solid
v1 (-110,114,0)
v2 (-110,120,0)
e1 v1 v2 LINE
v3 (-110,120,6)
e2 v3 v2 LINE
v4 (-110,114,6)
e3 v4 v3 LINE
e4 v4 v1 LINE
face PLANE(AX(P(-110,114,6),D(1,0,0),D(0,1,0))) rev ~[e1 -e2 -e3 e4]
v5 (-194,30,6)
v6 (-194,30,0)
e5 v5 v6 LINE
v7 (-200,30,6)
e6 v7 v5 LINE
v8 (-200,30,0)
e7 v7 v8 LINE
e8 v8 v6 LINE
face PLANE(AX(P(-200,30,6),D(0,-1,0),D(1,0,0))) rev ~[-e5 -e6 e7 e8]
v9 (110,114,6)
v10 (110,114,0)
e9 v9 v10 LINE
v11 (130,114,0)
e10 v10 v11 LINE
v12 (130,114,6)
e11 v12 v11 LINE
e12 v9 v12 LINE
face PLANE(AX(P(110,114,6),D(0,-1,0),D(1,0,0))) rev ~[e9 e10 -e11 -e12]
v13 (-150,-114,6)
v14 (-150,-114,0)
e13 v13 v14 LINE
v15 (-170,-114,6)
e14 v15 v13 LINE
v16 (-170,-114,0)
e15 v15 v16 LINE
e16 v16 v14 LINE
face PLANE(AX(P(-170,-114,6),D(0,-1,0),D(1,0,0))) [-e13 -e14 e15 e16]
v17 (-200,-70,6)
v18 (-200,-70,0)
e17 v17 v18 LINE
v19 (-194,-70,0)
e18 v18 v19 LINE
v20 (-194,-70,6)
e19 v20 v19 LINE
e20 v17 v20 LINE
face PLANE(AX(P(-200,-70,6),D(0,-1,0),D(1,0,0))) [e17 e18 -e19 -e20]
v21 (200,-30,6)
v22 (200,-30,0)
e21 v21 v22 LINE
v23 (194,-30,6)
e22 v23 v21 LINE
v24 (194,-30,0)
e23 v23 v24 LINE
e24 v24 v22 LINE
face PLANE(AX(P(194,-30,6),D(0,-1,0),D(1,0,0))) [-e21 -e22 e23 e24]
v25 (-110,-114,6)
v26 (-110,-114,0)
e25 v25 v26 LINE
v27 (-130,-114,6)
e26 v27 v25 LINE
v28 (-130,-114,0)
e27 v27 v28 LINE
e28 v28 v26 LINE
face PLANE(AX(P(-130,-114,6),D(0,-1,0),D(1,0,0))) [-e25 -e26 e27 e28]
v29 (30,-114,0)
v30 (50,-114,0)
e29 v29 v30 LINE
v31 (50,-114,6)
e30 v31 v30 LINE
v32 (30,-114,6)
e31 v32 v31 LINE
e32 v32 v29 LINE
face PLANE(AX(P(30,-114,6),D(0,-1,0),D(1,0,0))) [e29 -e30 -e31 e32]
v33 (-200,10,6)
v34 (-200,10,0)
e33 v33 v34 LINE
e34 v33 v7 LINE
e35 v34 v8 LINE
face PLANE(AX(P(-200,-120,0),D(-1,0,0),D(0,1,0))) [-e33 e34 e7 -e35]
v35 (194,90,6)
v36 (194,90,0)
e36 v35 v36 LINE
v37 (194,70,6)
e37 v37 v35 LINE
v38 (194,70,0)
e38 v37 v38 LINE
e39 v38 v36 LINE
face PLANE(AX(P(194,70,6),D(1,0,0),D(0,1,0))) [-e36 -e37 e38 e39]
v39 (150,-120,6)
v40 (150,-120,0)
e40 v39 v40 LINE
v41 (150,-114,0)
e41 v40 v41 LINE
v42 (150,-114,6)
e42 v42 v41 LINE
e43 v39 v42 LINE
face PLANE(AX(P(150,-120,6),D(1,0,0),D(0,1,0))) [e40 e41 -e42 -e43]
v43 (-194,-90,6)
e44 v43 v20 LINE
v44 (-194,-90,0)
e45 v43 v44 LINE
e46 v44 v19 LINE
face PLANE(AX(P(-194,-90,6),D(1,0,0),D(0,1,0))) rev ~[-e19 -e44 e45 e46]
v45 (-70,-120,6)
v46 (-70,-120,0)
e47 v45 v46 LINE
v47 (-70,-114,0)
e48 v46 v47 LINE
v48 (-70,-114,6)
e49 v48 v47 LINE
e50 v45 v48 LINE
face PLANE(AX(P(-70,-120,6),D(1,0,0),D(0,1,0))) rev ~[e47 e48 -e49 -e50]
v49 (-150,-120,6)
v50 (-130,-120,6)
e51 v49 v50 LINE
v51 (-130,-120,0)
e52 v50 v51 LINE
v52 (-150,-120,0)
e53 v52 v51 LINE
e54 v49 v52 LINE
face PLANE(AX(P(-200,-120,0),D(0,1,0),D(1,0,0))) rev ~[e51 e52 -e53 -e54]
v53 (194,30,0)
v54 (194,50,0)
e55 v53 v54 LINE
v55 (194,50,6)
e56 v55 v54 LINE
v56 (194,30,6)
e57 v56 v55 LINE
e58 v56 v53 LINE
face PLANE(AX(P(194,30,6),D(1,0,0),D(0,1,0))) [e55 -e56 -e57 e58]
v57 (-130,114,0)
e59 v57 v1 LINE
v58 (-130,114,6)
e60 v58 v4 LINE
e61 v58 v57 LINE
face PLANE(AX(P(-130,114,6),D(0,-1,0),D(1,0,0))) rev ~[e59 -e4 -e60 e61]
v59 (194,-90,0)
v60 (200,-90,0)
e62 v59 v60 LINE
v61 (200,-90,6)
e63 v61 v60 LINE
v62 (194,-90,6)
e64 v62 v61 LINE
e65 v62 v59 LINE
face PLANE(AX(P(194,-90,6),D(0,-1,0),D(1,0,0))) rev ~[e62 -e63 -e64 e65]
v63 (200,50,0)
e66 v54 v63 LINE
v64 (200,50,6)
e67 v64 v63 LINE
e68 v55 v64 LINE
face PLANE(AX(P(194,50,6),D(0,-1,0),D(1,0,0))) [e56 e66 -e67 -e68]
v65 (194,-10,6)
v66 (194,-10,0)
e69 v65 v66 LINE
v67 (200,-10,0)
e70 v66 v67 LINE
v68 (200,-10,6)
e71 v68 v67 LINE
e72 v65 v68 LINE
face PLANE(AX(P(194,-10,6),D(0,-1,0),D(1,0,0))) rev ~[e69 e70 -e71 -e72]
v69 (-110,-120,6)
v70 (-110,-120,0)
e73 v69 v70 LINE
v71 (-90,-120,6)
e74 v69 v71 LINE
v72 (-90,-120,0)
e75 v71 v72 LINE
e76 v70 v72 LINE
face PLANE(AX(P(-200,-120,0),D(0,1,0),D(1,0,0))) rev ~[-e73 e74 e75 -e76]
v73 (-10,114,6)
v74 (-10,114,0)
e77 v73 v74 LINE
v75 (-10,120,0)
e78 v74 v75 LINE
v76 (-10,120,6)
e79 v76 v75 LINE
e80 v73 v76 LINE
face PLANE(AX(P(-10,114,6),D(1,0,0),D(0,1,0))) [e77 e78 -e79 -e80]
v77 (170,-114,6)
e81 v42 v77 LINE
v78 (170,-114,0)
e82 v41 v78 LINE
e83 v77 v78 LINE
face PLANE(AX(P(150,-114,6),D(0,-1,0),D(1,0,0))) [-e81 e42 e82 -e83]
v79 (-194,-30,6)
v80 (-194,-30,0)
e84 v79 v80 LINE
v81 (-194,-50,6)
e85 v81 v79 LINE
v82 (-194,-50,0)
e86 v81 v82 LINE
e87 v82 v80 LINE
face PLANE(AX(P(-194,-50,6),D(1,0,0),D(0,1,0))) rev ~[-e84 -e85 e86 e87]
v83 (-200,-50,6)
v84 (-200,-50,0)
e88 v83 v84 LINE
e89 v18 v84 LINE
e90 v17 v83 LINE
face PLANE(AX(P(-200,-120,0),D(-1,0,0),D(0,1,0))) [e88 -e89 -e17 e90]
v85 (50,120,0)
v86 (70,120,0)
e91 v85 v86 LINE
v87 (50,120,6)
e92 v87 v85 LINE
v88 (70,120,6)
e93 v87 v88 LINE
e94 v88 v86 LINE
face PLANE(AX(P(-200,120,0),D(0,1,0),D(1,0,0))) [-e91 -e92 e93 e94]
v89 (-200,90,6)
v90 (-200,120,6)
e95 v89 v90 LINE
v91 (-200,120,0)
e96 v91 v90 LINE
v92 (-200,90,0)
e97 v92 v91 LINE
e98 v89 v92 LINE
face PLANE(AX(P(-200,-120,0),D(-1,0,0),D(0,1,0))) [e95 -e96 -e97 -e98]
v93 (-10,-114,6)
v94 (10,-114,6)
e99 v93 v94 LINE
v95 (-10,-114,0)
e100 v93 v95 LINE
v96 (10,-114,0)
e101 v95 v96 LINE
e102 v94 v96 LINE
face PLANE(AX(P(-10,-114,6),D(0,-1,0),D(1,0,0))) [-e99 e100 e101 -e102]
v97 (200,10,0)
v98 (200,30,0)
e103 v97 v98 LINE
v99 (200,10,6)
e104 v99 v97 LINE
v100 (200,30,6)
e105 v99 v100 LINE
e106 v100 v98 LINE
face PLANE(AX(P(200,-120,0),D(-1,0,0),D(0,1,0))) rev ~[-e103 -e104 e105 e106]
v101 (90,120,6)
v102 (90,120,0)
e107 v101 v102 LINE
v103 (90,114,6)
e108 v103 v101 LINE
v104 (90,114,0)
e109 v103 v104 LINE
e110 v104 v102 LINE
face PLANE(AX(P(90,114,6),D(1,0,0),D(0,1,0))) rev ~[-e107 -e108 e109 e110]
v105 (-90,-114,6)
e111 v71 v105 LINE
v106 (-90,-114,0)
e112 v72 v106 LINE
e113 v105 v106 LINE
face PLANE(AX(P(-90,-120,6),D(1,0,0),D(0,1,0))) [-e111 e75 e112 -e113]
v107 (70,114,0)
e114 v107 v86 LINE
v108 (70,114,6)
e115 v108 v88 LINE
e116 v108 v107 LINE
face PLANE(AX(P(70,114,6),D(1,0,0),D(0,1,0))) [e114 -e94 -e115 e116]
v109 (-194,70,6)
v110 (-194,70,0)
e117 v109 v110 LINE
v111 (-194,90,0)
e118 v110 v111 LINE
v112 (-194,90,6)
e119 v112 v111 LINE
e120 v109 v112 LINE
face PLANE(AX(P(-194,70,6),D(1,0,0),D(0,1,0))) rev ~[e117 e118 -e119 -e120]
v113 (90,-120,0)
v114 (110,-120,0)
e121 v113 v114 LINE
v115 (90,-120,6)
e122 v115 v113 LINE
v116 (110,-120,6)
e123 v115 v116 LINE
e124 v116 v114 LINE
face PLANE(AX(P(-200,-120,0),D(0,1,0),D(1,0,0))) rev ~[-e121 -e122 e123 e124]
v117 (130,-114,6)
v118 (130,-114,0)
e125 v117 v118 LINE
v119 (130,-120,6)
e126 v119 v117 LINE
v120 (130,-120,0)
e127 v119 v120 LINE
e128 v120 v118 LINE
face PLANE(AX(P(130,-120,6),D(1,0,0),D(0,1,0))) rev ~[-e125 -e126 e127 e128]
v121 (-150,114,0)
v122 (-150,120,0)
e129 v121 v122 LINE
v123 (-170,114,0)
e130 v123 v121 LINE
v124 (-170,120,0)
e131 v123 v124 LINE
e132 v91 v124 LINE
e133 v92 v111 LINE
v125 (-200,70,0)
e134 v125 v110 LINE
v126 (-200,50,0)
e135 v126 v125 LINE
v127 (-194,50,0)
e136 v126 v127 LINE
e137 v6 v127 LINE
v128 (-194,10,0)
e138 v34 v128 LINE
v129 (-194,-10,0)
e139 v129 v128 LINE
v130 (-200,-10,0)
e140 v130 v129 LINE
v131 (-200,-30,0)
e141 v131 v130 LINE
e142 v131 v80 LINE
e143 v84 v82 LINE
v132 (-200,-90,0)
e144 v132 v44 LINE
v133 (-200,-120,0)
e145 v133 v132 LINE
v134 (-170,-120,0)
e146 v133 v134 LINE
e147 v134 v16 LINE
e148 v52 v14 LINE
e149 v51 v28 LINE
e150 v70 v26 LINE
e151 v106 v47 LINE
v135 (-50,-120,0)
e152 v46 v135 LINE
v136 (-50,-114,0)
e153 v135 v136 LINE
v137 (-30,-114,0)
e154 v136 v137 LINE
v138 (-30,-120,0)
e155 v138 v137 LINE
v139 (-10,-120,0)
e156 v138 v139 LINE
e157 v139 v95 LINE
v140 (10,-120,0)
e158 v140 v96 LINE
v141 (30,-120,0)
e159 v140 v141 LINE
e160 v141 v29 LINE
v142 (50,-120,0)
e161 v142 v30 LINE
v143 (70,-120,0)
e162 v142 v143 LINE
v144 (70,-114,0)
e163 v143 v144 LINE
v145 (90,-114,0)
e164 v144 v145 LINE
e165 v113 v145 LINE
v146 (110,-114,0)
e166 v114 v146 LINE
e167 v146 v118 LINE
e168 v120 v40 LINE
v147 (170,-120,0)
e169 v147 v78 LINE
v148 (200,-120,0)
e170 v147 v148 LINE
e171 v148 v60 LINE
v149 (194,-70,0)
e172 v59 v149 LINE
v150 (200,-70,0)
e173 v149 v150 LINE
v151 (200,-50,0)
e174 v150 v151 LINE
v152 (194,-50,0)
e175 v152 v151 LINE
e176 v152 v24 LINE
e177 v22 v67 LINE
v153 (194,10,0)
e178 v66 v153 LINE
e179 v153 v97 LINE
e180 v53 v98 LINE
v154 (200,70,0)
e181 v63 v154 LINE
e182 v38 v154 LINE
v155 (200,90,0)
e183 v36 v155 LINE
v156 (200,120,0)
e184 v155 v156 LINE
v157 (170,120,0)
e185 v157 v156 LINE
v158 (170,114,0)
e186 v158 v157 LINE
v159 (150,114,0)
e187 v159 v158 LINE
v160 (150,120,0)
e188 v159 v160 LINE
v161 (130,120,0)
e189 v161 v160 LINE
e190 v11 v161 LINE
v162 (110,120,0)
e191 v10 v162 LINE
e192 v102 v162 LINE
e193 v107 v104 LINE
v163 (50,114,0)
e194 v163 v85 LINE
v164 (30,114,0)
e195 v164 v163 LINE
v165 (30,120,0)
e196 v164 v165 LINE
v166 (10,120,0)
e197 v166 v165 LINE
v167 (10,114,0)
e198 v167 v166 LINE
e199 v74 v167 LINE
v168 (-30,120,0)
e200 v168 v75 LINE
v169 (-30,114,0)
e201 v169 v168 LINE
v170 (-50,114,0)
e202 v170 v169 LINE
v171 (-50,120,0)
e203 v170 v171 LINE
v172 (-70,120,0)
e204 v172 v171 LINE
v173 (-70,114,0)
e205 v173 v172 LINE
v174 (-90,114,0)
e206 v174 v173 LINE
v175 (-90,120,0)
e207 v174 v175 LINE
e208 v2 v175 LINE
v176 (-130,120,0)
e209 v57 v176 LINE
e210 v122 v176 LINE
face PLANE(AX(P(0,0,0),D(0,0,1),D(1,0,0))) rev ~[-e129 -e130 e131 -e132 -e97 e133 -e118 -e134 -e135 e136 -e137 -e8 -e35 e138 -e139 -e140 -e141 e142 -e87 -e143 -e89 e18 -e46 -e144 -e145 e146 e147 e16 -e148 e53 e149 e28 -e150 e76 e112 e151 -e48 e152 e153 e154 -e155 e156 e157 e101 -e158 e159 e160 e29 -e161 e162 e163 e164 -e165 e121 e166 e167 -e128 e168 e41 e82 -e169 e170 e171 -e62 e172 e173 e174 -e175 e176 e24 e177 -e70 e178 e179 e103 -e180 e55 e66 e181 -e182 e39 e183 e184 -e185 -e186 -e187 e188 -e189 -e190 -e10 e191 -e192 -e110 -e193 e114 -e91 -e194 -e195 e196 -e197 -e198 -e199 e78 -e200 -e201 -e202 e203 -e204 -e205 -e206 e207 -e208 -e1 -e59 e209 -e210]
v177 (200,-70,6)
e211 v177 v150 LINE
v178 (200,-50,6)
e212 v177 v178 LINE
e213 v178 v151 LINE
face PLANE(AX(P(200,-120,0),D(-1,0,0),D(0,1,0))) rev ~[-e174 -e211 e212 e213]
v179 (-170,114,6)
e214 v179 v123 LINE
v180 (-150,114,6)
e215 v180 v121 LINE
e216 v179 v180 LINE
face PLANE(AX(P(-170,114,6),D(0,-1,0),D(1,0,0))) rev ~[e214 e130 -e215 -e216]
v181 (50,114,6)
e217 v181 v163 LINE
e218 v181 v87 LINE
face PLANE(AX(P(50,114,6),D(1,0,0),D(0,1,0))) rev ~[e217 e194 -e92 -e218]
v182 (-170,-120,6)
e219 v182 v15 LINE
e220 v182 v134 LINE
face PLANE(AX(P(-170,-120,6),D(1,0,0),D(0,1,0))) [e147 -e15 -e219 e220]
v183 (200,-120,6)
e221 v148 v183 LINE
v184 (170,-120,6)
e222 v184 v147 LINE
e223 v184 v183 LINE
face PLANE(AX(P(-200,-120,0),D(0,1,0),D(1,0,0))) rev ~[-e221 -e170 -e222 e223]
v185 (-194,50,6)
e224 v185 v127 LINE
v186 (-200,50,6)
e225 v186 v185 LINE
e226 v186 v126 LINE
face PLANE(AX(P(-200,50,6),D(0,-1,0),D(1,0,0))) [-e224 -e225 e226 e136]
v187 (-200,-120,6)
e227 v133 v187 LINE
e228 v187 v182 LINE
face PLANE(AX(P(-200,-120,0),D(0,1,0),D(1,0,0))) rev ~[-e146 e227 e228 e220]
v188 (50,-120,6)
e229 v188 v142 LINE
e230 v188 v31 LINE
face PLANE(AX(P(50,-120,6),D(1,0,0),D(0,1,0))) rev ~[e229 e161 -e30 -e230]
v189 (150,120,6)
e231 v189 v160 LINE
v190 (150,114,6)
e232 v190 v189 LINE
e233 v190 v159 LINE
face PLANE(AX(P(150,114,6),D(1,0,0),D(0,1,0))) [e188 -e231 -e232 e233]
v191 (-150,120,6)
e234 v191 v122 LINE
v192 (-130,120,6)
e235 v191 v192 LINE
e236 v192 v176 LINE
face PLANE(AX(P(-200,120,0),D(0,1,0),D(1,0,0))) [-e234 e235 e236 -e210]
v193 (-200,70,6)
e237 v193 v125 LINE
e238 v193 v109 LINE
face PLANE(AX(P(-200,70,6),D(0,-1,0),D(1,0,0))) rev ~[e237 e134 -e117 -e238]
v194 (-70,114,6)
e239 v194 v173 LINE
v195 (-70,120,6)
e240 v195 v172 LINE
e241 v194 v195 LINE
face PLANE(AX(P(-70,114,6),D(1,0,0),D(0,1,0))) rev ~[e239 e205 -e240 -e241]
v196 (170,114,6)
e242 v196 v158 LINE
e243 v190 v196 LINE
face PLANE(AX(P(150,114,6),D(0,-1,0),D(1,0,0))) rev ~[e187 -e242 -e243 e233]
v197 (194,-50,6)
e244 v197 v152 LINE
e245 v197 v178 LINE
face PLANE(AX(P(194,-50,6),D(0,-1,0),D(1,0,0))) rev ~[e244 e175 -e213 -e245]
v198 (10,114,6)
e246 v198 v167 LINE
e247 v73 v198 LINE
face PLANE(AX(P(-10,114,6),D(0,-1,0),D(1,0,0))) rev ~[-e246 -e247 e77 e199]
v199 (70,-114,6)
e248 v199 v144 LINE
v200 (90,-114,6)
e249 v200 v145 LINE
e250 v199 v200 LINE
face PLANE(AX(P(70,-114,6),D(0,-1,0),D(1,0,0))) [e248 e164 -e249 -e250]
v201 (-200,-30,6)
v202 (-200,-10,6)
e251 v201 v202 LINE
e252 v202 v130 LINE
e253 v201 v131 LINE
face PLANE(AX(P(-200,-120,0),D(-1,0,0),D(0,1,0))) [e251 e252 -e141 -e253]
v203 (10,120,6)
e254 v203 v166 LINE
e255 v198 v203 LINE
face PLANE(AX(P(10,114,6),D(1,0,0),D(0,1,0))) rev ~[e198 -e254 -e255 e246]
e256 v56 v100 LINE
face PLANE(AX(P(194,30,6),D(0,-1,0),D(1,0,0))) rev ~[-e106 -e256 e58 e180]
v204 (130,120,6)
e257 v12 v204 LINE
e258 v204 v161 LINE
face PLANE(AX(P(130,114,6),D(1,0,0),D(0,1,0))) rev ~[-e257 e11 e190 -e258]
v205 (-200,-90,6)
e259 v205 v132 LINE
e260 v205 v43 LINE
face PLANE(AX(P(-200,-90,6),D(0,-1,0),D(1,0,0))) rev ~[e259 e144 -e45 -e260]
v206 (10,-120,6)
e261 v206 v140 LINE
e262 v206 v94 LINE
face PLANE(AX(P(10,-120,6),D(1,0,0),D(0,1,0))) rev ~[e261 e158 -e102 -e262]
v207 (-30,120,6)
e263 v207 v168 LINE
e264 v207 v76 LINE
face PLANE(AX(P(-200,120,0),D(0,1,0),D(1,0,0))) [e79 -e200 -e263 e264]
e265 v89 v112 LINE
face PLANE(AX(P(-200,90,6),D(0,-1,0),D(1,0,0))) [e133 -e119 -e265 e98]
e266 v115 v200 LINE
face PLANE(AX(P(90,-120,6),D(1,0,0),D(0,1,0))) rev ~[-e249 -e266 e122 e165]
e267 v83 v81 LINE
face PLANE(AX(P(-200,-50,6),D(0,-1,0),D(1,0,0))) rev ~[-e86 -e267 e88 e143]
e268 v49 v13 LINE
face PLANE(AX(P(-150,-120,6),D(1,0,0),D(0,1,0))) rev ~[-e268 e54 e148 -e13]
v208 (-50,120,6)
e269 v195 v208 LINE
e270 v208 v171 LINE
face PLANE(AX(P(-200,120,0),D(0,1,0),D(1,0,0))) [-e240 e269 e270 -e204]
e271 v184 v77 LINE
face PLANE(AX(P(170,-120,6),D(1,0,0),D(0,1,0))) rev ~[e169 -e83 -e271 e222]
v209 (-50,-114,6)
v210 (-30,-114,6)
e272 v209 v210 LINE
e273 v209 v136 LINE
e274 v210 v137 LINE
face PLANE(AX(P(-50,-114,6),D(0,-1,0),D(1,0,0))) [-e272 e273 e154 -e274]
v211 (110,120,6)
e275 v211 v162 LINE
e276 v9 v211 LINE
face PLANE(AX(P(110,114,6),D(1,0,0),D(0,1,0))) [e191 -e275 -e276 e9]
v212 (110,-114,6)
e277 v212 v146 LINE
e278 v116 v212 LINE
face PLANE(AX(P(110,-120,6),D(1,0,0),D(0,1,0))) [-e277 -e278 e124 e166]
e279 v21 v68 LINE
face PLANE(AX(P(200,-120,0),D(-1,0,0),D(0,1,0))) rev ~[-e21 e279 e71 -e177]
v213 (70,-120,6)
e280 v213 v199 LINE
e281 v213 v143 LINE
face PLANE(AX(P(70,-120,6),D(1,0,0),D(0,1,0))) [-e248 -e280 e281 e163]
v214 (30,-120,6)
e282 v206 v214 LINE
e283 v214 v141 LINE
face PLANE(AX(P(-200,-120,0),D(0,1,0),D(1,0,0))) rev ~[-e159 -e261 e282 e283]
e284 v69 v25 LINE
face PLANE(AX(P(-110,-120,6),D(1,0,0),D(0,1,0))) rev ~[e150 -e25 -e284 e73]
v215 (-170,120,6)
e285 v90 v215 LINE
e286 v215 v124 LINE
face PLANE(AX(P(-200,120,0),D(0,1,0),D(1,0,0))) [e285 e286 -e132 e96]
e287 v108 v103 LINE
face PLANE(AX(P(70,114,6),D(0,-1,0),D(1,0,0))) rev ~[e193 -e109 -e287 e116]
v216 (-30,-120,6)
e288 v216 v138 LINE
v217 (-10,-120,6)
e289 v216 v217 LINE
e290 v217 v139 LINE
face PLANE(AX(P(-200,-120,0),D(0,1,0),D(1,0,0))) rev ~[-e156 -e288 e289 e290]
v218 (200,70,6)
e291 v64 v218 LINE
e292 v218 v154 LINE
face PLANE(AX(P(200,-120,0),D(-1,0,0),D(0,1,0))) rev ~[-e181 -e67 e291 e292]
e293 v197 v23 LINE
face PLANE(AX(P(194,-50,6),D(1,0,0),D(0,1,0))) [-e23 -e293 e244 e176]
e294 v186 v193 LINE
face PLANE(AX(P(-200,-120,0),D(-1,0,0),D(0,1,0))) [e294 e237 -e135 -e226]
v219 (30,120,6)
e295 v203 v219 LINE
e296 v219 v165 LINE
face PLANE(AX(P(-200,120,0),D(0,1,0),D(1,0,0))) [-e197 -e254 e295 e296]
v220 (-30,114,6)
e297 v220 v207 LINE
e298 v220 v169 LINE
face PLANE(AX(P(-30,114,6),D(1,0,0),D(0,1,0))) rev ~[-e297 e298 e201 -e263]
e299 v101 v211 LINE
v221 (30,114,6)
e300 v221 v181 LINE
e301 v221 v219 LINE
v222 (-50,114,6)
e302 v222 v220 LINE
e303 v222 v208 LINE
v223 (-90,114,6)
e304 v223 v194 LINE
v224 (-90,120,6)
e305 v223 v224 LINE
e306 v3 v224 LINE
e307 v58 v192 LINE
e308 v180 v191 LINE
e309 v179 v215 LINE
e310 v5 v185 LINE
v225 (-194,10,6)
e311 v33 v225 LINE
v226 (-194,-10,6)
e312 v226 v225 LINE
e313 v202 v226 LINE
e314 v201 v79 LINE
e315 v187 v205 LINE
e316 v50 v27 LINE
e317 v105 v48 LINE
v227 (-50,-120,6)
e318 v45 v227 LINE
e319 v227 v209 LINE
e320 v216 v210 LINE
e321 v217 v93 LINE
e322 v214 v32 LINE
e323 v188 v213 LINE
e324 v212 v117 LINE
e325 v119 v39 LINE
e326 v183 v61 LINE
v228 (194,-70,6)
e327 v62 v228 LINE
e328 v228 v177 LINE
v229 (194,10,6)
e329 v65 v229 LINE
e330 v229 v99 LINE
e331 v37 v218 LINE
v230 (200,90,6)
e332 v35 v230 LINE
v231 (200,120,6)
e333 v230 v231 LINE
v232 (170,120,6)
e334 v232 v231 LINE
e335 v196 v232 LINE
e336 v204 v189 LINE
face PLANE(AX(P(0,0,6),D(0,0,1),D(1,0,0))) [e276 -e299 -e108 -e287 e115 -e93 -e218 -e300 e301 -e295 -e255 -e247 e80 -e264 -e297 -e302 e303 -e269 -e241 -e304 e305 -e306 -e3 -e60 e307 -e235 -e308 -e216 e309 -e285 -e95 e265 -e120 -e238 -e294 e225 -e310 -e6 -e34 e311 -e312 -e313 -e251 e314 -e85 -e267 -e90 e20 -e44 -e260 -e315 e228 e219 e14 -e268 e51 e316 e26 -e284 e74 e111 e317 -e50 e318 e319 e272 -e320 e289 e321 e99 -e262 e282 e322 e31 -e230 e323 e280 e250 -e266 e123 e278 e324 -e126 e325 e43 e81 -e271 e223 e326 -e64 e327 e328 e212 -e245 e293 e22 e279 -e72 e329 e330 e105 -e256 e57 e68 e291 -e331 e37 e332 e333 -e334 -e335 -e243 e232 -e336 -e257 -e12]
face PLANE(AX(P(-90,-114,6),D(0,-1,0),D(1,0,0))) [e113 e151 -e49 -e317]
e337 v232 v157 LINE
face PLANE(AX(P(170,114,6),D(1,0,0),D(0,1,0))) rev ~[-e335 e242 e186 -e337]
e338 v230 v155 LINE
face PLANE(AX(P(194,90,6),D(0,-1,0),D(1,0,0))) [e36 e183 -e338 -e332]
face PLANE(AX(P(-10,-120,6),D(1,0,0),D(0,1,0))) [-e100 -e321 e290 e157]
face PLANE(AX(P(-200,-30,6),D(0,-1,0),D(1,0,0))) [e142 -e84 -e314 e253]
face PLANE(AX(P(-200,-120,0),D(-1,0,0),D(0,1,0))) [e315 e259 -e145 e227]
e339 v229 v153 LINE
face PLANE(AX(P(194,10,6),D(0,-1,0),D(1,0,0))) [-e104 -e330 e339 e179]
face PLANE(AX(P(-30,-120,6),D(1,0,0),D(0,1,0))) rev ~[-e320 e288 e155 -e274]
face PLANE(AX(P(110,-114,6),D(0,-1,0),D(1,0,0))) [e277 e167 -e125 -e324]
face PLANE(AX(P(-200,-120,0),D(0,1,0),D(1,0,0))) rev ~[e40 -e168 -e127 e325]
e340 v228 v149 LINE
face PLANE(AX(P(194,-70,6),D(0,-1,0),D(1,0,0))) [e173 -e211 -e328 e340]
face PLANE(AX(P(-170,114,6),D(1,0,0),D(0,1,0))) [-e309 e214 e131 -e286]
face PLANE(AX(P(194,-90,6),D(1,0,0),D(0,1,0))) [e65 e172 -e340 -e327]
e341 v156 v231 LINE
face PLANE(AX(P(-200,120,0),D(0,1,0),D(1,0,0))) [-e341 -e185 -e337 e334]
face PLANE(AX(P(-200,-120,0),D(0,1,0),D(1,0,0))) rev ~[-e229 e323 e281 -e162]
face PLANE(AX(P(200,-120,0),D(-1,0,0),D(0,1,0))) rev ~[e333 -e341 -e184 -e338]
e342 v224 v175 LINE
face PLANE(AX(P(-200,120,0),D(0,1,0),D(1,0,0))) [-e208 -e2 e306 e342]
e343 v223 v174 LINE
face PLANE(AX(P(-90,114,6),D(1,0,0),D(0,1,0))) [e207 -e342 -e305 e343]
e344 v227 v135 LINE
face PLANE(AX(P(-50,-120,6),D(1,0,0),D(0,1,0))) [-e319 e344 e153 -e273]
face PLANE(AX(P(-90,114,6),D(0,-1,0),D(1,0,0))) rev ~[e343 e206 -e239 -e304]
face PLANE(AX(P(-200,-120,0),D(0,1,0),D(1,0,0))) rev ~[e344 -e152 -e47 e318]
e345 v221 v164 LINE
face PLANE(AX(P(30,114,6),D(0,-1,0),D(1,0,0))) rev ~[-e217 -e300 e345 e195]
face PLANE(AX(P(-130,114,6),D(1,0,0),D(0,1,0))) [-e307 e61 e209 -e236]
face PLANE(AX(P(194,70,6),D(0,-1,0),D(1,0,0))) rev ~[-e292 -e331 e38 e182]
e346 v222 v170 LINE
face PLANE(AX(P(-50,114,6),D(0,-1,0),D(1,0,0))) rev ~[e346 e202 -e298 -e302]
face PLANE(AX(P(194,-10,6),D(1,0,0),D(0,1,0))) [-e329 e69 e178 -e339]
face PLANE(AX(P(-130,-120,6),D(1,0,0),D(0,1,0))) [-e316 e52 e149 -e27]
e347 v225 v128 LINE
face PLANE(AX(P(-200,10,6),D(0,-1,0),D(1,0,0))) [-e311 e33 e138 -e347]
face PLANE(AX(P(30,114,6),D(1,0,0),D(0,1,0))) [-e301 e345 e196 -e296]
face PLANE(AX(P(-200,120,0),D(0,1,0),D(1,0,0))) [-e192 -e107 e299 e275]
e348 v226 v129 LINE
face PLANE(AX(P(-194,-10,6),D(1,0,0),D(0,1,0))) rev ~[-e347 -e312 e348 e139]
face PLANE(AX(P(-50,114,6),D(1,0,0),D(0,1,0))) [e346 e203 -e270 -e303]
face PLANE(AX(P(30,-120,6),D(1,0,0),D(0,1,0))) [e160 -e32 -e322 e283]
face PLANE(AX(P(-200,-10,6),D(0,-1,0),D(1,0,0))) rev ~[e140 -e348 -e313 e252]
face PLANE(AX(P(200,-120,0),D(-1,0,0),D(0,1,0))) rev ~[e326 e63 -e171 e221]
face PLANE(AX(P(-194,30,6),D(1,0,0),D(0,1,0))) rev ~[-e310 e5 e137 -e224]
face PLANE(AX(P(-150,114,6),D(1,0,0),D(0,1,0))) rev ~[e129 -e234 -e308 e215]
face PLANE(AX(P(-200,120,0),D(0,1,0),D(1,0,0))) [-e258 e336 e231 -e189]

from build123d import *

# Parameters (mm, degrees)
F0_W     = 400
F0_H     = 240
F1_DEPTH = 6
F2_W     = 6
F2_H     = 20
F2_W_2   = 20
F2_H_2   = 6
F3_DEPTH = 25


with BuildPart() as f1:
    # F0 (on Top) → F1 (new body)
    with BuildSketch(Plane.XY):
        Rectangle(F0_W, F0_H)
    extrude(amount=F1_DEPTH)

    # F2 (on face) → F3 (cut)
    with BuildSketch(Plane.XY.offset(6)):
        with Locations((-197, 80)):
            Rectangle(F2_W, F2_H)
        with Locations((-197, 40)):
            Rectangle(F2_W, F2_H)
        with Locations((-197, -40)):
            Rectangle(F2_W, F2_H)
        with Locations((-197, 0)):
            Rectangle(F2_W, F2_H)
        with Locations((-197, -80)):
            Rectangle(F2_W, F2_H)
        with Locations((-160, 117)):
            Rectangle(F2_W_2, F2_H_2)
        with Locations((-120, 117)):
            Rectangle(F2_W_2, F2_H_2)
        with Locations((-80, 117)):
            Rectangle(F2_W_2, F2_H_2)
        with Locations((-40, 117)):
            Rectangle(F2_W_2, F2_H_2)
        with Locations((0, 117)):
            Rectangle(F2_W_2, F2_H_2)
        with Locations((40, 117)):
            Rectangle(F2_W_2, F2_H_2)
        with Locations((80, 117)):
            Rectangle(F2_W_2, F2_H_2)
        with Locations((120, 117)):
            Rectangle(F2_W_2, F2_H_2)
        with Locations((160, 117)):
            Rectangle(F2_W_2, F2_H_2)
        with Locations((197, 80)):
            Rectangle(F2_W, F2_H)
        with Locations((197, 40)):
            Rectangle(F2_W, F2_H)
        with Locations((197, 0)):
            Rectangle(F2_W, F2_H)
        with Locations((197, -40)):
            Rectangle(F2_W, F2_H)
        with Locations((197, -80)):
            Rectangle(F2_W, F2_H)
        with Locations((-160, -117)):
            Rectangle(F2_W_2, F2_H_2)
        with Locations((-120, -117)):
            Rectangle(F2_W_2, F2_H_2)
        with Locations((-80, -117)):
            Rectangle(F2_W_2, F2_H_2)
        with Locations((-40, -117)):
            Rectangle(F2_W_2, F2_H_2)
        with Locations((0, -117)):
            Rectangle(F2_W_2, F2_H_2)
        with Locations((40, -117)):
            Rectangle(F2_W_2, F2_H_2)
        with Locations((80, -117)):
            Rectangle(F2_W_2, F2_H_2)
        with Locations((120, -117)):
            Rectangle(F2_W_2, F2_H_2)
        with Locations((160, -117)):
            Rectangle(F2_W_2, F2_H_2)
    extrude(amount=-F3_DEPTH, mode=Mode.SUBTRACT)


solid = f1.part
